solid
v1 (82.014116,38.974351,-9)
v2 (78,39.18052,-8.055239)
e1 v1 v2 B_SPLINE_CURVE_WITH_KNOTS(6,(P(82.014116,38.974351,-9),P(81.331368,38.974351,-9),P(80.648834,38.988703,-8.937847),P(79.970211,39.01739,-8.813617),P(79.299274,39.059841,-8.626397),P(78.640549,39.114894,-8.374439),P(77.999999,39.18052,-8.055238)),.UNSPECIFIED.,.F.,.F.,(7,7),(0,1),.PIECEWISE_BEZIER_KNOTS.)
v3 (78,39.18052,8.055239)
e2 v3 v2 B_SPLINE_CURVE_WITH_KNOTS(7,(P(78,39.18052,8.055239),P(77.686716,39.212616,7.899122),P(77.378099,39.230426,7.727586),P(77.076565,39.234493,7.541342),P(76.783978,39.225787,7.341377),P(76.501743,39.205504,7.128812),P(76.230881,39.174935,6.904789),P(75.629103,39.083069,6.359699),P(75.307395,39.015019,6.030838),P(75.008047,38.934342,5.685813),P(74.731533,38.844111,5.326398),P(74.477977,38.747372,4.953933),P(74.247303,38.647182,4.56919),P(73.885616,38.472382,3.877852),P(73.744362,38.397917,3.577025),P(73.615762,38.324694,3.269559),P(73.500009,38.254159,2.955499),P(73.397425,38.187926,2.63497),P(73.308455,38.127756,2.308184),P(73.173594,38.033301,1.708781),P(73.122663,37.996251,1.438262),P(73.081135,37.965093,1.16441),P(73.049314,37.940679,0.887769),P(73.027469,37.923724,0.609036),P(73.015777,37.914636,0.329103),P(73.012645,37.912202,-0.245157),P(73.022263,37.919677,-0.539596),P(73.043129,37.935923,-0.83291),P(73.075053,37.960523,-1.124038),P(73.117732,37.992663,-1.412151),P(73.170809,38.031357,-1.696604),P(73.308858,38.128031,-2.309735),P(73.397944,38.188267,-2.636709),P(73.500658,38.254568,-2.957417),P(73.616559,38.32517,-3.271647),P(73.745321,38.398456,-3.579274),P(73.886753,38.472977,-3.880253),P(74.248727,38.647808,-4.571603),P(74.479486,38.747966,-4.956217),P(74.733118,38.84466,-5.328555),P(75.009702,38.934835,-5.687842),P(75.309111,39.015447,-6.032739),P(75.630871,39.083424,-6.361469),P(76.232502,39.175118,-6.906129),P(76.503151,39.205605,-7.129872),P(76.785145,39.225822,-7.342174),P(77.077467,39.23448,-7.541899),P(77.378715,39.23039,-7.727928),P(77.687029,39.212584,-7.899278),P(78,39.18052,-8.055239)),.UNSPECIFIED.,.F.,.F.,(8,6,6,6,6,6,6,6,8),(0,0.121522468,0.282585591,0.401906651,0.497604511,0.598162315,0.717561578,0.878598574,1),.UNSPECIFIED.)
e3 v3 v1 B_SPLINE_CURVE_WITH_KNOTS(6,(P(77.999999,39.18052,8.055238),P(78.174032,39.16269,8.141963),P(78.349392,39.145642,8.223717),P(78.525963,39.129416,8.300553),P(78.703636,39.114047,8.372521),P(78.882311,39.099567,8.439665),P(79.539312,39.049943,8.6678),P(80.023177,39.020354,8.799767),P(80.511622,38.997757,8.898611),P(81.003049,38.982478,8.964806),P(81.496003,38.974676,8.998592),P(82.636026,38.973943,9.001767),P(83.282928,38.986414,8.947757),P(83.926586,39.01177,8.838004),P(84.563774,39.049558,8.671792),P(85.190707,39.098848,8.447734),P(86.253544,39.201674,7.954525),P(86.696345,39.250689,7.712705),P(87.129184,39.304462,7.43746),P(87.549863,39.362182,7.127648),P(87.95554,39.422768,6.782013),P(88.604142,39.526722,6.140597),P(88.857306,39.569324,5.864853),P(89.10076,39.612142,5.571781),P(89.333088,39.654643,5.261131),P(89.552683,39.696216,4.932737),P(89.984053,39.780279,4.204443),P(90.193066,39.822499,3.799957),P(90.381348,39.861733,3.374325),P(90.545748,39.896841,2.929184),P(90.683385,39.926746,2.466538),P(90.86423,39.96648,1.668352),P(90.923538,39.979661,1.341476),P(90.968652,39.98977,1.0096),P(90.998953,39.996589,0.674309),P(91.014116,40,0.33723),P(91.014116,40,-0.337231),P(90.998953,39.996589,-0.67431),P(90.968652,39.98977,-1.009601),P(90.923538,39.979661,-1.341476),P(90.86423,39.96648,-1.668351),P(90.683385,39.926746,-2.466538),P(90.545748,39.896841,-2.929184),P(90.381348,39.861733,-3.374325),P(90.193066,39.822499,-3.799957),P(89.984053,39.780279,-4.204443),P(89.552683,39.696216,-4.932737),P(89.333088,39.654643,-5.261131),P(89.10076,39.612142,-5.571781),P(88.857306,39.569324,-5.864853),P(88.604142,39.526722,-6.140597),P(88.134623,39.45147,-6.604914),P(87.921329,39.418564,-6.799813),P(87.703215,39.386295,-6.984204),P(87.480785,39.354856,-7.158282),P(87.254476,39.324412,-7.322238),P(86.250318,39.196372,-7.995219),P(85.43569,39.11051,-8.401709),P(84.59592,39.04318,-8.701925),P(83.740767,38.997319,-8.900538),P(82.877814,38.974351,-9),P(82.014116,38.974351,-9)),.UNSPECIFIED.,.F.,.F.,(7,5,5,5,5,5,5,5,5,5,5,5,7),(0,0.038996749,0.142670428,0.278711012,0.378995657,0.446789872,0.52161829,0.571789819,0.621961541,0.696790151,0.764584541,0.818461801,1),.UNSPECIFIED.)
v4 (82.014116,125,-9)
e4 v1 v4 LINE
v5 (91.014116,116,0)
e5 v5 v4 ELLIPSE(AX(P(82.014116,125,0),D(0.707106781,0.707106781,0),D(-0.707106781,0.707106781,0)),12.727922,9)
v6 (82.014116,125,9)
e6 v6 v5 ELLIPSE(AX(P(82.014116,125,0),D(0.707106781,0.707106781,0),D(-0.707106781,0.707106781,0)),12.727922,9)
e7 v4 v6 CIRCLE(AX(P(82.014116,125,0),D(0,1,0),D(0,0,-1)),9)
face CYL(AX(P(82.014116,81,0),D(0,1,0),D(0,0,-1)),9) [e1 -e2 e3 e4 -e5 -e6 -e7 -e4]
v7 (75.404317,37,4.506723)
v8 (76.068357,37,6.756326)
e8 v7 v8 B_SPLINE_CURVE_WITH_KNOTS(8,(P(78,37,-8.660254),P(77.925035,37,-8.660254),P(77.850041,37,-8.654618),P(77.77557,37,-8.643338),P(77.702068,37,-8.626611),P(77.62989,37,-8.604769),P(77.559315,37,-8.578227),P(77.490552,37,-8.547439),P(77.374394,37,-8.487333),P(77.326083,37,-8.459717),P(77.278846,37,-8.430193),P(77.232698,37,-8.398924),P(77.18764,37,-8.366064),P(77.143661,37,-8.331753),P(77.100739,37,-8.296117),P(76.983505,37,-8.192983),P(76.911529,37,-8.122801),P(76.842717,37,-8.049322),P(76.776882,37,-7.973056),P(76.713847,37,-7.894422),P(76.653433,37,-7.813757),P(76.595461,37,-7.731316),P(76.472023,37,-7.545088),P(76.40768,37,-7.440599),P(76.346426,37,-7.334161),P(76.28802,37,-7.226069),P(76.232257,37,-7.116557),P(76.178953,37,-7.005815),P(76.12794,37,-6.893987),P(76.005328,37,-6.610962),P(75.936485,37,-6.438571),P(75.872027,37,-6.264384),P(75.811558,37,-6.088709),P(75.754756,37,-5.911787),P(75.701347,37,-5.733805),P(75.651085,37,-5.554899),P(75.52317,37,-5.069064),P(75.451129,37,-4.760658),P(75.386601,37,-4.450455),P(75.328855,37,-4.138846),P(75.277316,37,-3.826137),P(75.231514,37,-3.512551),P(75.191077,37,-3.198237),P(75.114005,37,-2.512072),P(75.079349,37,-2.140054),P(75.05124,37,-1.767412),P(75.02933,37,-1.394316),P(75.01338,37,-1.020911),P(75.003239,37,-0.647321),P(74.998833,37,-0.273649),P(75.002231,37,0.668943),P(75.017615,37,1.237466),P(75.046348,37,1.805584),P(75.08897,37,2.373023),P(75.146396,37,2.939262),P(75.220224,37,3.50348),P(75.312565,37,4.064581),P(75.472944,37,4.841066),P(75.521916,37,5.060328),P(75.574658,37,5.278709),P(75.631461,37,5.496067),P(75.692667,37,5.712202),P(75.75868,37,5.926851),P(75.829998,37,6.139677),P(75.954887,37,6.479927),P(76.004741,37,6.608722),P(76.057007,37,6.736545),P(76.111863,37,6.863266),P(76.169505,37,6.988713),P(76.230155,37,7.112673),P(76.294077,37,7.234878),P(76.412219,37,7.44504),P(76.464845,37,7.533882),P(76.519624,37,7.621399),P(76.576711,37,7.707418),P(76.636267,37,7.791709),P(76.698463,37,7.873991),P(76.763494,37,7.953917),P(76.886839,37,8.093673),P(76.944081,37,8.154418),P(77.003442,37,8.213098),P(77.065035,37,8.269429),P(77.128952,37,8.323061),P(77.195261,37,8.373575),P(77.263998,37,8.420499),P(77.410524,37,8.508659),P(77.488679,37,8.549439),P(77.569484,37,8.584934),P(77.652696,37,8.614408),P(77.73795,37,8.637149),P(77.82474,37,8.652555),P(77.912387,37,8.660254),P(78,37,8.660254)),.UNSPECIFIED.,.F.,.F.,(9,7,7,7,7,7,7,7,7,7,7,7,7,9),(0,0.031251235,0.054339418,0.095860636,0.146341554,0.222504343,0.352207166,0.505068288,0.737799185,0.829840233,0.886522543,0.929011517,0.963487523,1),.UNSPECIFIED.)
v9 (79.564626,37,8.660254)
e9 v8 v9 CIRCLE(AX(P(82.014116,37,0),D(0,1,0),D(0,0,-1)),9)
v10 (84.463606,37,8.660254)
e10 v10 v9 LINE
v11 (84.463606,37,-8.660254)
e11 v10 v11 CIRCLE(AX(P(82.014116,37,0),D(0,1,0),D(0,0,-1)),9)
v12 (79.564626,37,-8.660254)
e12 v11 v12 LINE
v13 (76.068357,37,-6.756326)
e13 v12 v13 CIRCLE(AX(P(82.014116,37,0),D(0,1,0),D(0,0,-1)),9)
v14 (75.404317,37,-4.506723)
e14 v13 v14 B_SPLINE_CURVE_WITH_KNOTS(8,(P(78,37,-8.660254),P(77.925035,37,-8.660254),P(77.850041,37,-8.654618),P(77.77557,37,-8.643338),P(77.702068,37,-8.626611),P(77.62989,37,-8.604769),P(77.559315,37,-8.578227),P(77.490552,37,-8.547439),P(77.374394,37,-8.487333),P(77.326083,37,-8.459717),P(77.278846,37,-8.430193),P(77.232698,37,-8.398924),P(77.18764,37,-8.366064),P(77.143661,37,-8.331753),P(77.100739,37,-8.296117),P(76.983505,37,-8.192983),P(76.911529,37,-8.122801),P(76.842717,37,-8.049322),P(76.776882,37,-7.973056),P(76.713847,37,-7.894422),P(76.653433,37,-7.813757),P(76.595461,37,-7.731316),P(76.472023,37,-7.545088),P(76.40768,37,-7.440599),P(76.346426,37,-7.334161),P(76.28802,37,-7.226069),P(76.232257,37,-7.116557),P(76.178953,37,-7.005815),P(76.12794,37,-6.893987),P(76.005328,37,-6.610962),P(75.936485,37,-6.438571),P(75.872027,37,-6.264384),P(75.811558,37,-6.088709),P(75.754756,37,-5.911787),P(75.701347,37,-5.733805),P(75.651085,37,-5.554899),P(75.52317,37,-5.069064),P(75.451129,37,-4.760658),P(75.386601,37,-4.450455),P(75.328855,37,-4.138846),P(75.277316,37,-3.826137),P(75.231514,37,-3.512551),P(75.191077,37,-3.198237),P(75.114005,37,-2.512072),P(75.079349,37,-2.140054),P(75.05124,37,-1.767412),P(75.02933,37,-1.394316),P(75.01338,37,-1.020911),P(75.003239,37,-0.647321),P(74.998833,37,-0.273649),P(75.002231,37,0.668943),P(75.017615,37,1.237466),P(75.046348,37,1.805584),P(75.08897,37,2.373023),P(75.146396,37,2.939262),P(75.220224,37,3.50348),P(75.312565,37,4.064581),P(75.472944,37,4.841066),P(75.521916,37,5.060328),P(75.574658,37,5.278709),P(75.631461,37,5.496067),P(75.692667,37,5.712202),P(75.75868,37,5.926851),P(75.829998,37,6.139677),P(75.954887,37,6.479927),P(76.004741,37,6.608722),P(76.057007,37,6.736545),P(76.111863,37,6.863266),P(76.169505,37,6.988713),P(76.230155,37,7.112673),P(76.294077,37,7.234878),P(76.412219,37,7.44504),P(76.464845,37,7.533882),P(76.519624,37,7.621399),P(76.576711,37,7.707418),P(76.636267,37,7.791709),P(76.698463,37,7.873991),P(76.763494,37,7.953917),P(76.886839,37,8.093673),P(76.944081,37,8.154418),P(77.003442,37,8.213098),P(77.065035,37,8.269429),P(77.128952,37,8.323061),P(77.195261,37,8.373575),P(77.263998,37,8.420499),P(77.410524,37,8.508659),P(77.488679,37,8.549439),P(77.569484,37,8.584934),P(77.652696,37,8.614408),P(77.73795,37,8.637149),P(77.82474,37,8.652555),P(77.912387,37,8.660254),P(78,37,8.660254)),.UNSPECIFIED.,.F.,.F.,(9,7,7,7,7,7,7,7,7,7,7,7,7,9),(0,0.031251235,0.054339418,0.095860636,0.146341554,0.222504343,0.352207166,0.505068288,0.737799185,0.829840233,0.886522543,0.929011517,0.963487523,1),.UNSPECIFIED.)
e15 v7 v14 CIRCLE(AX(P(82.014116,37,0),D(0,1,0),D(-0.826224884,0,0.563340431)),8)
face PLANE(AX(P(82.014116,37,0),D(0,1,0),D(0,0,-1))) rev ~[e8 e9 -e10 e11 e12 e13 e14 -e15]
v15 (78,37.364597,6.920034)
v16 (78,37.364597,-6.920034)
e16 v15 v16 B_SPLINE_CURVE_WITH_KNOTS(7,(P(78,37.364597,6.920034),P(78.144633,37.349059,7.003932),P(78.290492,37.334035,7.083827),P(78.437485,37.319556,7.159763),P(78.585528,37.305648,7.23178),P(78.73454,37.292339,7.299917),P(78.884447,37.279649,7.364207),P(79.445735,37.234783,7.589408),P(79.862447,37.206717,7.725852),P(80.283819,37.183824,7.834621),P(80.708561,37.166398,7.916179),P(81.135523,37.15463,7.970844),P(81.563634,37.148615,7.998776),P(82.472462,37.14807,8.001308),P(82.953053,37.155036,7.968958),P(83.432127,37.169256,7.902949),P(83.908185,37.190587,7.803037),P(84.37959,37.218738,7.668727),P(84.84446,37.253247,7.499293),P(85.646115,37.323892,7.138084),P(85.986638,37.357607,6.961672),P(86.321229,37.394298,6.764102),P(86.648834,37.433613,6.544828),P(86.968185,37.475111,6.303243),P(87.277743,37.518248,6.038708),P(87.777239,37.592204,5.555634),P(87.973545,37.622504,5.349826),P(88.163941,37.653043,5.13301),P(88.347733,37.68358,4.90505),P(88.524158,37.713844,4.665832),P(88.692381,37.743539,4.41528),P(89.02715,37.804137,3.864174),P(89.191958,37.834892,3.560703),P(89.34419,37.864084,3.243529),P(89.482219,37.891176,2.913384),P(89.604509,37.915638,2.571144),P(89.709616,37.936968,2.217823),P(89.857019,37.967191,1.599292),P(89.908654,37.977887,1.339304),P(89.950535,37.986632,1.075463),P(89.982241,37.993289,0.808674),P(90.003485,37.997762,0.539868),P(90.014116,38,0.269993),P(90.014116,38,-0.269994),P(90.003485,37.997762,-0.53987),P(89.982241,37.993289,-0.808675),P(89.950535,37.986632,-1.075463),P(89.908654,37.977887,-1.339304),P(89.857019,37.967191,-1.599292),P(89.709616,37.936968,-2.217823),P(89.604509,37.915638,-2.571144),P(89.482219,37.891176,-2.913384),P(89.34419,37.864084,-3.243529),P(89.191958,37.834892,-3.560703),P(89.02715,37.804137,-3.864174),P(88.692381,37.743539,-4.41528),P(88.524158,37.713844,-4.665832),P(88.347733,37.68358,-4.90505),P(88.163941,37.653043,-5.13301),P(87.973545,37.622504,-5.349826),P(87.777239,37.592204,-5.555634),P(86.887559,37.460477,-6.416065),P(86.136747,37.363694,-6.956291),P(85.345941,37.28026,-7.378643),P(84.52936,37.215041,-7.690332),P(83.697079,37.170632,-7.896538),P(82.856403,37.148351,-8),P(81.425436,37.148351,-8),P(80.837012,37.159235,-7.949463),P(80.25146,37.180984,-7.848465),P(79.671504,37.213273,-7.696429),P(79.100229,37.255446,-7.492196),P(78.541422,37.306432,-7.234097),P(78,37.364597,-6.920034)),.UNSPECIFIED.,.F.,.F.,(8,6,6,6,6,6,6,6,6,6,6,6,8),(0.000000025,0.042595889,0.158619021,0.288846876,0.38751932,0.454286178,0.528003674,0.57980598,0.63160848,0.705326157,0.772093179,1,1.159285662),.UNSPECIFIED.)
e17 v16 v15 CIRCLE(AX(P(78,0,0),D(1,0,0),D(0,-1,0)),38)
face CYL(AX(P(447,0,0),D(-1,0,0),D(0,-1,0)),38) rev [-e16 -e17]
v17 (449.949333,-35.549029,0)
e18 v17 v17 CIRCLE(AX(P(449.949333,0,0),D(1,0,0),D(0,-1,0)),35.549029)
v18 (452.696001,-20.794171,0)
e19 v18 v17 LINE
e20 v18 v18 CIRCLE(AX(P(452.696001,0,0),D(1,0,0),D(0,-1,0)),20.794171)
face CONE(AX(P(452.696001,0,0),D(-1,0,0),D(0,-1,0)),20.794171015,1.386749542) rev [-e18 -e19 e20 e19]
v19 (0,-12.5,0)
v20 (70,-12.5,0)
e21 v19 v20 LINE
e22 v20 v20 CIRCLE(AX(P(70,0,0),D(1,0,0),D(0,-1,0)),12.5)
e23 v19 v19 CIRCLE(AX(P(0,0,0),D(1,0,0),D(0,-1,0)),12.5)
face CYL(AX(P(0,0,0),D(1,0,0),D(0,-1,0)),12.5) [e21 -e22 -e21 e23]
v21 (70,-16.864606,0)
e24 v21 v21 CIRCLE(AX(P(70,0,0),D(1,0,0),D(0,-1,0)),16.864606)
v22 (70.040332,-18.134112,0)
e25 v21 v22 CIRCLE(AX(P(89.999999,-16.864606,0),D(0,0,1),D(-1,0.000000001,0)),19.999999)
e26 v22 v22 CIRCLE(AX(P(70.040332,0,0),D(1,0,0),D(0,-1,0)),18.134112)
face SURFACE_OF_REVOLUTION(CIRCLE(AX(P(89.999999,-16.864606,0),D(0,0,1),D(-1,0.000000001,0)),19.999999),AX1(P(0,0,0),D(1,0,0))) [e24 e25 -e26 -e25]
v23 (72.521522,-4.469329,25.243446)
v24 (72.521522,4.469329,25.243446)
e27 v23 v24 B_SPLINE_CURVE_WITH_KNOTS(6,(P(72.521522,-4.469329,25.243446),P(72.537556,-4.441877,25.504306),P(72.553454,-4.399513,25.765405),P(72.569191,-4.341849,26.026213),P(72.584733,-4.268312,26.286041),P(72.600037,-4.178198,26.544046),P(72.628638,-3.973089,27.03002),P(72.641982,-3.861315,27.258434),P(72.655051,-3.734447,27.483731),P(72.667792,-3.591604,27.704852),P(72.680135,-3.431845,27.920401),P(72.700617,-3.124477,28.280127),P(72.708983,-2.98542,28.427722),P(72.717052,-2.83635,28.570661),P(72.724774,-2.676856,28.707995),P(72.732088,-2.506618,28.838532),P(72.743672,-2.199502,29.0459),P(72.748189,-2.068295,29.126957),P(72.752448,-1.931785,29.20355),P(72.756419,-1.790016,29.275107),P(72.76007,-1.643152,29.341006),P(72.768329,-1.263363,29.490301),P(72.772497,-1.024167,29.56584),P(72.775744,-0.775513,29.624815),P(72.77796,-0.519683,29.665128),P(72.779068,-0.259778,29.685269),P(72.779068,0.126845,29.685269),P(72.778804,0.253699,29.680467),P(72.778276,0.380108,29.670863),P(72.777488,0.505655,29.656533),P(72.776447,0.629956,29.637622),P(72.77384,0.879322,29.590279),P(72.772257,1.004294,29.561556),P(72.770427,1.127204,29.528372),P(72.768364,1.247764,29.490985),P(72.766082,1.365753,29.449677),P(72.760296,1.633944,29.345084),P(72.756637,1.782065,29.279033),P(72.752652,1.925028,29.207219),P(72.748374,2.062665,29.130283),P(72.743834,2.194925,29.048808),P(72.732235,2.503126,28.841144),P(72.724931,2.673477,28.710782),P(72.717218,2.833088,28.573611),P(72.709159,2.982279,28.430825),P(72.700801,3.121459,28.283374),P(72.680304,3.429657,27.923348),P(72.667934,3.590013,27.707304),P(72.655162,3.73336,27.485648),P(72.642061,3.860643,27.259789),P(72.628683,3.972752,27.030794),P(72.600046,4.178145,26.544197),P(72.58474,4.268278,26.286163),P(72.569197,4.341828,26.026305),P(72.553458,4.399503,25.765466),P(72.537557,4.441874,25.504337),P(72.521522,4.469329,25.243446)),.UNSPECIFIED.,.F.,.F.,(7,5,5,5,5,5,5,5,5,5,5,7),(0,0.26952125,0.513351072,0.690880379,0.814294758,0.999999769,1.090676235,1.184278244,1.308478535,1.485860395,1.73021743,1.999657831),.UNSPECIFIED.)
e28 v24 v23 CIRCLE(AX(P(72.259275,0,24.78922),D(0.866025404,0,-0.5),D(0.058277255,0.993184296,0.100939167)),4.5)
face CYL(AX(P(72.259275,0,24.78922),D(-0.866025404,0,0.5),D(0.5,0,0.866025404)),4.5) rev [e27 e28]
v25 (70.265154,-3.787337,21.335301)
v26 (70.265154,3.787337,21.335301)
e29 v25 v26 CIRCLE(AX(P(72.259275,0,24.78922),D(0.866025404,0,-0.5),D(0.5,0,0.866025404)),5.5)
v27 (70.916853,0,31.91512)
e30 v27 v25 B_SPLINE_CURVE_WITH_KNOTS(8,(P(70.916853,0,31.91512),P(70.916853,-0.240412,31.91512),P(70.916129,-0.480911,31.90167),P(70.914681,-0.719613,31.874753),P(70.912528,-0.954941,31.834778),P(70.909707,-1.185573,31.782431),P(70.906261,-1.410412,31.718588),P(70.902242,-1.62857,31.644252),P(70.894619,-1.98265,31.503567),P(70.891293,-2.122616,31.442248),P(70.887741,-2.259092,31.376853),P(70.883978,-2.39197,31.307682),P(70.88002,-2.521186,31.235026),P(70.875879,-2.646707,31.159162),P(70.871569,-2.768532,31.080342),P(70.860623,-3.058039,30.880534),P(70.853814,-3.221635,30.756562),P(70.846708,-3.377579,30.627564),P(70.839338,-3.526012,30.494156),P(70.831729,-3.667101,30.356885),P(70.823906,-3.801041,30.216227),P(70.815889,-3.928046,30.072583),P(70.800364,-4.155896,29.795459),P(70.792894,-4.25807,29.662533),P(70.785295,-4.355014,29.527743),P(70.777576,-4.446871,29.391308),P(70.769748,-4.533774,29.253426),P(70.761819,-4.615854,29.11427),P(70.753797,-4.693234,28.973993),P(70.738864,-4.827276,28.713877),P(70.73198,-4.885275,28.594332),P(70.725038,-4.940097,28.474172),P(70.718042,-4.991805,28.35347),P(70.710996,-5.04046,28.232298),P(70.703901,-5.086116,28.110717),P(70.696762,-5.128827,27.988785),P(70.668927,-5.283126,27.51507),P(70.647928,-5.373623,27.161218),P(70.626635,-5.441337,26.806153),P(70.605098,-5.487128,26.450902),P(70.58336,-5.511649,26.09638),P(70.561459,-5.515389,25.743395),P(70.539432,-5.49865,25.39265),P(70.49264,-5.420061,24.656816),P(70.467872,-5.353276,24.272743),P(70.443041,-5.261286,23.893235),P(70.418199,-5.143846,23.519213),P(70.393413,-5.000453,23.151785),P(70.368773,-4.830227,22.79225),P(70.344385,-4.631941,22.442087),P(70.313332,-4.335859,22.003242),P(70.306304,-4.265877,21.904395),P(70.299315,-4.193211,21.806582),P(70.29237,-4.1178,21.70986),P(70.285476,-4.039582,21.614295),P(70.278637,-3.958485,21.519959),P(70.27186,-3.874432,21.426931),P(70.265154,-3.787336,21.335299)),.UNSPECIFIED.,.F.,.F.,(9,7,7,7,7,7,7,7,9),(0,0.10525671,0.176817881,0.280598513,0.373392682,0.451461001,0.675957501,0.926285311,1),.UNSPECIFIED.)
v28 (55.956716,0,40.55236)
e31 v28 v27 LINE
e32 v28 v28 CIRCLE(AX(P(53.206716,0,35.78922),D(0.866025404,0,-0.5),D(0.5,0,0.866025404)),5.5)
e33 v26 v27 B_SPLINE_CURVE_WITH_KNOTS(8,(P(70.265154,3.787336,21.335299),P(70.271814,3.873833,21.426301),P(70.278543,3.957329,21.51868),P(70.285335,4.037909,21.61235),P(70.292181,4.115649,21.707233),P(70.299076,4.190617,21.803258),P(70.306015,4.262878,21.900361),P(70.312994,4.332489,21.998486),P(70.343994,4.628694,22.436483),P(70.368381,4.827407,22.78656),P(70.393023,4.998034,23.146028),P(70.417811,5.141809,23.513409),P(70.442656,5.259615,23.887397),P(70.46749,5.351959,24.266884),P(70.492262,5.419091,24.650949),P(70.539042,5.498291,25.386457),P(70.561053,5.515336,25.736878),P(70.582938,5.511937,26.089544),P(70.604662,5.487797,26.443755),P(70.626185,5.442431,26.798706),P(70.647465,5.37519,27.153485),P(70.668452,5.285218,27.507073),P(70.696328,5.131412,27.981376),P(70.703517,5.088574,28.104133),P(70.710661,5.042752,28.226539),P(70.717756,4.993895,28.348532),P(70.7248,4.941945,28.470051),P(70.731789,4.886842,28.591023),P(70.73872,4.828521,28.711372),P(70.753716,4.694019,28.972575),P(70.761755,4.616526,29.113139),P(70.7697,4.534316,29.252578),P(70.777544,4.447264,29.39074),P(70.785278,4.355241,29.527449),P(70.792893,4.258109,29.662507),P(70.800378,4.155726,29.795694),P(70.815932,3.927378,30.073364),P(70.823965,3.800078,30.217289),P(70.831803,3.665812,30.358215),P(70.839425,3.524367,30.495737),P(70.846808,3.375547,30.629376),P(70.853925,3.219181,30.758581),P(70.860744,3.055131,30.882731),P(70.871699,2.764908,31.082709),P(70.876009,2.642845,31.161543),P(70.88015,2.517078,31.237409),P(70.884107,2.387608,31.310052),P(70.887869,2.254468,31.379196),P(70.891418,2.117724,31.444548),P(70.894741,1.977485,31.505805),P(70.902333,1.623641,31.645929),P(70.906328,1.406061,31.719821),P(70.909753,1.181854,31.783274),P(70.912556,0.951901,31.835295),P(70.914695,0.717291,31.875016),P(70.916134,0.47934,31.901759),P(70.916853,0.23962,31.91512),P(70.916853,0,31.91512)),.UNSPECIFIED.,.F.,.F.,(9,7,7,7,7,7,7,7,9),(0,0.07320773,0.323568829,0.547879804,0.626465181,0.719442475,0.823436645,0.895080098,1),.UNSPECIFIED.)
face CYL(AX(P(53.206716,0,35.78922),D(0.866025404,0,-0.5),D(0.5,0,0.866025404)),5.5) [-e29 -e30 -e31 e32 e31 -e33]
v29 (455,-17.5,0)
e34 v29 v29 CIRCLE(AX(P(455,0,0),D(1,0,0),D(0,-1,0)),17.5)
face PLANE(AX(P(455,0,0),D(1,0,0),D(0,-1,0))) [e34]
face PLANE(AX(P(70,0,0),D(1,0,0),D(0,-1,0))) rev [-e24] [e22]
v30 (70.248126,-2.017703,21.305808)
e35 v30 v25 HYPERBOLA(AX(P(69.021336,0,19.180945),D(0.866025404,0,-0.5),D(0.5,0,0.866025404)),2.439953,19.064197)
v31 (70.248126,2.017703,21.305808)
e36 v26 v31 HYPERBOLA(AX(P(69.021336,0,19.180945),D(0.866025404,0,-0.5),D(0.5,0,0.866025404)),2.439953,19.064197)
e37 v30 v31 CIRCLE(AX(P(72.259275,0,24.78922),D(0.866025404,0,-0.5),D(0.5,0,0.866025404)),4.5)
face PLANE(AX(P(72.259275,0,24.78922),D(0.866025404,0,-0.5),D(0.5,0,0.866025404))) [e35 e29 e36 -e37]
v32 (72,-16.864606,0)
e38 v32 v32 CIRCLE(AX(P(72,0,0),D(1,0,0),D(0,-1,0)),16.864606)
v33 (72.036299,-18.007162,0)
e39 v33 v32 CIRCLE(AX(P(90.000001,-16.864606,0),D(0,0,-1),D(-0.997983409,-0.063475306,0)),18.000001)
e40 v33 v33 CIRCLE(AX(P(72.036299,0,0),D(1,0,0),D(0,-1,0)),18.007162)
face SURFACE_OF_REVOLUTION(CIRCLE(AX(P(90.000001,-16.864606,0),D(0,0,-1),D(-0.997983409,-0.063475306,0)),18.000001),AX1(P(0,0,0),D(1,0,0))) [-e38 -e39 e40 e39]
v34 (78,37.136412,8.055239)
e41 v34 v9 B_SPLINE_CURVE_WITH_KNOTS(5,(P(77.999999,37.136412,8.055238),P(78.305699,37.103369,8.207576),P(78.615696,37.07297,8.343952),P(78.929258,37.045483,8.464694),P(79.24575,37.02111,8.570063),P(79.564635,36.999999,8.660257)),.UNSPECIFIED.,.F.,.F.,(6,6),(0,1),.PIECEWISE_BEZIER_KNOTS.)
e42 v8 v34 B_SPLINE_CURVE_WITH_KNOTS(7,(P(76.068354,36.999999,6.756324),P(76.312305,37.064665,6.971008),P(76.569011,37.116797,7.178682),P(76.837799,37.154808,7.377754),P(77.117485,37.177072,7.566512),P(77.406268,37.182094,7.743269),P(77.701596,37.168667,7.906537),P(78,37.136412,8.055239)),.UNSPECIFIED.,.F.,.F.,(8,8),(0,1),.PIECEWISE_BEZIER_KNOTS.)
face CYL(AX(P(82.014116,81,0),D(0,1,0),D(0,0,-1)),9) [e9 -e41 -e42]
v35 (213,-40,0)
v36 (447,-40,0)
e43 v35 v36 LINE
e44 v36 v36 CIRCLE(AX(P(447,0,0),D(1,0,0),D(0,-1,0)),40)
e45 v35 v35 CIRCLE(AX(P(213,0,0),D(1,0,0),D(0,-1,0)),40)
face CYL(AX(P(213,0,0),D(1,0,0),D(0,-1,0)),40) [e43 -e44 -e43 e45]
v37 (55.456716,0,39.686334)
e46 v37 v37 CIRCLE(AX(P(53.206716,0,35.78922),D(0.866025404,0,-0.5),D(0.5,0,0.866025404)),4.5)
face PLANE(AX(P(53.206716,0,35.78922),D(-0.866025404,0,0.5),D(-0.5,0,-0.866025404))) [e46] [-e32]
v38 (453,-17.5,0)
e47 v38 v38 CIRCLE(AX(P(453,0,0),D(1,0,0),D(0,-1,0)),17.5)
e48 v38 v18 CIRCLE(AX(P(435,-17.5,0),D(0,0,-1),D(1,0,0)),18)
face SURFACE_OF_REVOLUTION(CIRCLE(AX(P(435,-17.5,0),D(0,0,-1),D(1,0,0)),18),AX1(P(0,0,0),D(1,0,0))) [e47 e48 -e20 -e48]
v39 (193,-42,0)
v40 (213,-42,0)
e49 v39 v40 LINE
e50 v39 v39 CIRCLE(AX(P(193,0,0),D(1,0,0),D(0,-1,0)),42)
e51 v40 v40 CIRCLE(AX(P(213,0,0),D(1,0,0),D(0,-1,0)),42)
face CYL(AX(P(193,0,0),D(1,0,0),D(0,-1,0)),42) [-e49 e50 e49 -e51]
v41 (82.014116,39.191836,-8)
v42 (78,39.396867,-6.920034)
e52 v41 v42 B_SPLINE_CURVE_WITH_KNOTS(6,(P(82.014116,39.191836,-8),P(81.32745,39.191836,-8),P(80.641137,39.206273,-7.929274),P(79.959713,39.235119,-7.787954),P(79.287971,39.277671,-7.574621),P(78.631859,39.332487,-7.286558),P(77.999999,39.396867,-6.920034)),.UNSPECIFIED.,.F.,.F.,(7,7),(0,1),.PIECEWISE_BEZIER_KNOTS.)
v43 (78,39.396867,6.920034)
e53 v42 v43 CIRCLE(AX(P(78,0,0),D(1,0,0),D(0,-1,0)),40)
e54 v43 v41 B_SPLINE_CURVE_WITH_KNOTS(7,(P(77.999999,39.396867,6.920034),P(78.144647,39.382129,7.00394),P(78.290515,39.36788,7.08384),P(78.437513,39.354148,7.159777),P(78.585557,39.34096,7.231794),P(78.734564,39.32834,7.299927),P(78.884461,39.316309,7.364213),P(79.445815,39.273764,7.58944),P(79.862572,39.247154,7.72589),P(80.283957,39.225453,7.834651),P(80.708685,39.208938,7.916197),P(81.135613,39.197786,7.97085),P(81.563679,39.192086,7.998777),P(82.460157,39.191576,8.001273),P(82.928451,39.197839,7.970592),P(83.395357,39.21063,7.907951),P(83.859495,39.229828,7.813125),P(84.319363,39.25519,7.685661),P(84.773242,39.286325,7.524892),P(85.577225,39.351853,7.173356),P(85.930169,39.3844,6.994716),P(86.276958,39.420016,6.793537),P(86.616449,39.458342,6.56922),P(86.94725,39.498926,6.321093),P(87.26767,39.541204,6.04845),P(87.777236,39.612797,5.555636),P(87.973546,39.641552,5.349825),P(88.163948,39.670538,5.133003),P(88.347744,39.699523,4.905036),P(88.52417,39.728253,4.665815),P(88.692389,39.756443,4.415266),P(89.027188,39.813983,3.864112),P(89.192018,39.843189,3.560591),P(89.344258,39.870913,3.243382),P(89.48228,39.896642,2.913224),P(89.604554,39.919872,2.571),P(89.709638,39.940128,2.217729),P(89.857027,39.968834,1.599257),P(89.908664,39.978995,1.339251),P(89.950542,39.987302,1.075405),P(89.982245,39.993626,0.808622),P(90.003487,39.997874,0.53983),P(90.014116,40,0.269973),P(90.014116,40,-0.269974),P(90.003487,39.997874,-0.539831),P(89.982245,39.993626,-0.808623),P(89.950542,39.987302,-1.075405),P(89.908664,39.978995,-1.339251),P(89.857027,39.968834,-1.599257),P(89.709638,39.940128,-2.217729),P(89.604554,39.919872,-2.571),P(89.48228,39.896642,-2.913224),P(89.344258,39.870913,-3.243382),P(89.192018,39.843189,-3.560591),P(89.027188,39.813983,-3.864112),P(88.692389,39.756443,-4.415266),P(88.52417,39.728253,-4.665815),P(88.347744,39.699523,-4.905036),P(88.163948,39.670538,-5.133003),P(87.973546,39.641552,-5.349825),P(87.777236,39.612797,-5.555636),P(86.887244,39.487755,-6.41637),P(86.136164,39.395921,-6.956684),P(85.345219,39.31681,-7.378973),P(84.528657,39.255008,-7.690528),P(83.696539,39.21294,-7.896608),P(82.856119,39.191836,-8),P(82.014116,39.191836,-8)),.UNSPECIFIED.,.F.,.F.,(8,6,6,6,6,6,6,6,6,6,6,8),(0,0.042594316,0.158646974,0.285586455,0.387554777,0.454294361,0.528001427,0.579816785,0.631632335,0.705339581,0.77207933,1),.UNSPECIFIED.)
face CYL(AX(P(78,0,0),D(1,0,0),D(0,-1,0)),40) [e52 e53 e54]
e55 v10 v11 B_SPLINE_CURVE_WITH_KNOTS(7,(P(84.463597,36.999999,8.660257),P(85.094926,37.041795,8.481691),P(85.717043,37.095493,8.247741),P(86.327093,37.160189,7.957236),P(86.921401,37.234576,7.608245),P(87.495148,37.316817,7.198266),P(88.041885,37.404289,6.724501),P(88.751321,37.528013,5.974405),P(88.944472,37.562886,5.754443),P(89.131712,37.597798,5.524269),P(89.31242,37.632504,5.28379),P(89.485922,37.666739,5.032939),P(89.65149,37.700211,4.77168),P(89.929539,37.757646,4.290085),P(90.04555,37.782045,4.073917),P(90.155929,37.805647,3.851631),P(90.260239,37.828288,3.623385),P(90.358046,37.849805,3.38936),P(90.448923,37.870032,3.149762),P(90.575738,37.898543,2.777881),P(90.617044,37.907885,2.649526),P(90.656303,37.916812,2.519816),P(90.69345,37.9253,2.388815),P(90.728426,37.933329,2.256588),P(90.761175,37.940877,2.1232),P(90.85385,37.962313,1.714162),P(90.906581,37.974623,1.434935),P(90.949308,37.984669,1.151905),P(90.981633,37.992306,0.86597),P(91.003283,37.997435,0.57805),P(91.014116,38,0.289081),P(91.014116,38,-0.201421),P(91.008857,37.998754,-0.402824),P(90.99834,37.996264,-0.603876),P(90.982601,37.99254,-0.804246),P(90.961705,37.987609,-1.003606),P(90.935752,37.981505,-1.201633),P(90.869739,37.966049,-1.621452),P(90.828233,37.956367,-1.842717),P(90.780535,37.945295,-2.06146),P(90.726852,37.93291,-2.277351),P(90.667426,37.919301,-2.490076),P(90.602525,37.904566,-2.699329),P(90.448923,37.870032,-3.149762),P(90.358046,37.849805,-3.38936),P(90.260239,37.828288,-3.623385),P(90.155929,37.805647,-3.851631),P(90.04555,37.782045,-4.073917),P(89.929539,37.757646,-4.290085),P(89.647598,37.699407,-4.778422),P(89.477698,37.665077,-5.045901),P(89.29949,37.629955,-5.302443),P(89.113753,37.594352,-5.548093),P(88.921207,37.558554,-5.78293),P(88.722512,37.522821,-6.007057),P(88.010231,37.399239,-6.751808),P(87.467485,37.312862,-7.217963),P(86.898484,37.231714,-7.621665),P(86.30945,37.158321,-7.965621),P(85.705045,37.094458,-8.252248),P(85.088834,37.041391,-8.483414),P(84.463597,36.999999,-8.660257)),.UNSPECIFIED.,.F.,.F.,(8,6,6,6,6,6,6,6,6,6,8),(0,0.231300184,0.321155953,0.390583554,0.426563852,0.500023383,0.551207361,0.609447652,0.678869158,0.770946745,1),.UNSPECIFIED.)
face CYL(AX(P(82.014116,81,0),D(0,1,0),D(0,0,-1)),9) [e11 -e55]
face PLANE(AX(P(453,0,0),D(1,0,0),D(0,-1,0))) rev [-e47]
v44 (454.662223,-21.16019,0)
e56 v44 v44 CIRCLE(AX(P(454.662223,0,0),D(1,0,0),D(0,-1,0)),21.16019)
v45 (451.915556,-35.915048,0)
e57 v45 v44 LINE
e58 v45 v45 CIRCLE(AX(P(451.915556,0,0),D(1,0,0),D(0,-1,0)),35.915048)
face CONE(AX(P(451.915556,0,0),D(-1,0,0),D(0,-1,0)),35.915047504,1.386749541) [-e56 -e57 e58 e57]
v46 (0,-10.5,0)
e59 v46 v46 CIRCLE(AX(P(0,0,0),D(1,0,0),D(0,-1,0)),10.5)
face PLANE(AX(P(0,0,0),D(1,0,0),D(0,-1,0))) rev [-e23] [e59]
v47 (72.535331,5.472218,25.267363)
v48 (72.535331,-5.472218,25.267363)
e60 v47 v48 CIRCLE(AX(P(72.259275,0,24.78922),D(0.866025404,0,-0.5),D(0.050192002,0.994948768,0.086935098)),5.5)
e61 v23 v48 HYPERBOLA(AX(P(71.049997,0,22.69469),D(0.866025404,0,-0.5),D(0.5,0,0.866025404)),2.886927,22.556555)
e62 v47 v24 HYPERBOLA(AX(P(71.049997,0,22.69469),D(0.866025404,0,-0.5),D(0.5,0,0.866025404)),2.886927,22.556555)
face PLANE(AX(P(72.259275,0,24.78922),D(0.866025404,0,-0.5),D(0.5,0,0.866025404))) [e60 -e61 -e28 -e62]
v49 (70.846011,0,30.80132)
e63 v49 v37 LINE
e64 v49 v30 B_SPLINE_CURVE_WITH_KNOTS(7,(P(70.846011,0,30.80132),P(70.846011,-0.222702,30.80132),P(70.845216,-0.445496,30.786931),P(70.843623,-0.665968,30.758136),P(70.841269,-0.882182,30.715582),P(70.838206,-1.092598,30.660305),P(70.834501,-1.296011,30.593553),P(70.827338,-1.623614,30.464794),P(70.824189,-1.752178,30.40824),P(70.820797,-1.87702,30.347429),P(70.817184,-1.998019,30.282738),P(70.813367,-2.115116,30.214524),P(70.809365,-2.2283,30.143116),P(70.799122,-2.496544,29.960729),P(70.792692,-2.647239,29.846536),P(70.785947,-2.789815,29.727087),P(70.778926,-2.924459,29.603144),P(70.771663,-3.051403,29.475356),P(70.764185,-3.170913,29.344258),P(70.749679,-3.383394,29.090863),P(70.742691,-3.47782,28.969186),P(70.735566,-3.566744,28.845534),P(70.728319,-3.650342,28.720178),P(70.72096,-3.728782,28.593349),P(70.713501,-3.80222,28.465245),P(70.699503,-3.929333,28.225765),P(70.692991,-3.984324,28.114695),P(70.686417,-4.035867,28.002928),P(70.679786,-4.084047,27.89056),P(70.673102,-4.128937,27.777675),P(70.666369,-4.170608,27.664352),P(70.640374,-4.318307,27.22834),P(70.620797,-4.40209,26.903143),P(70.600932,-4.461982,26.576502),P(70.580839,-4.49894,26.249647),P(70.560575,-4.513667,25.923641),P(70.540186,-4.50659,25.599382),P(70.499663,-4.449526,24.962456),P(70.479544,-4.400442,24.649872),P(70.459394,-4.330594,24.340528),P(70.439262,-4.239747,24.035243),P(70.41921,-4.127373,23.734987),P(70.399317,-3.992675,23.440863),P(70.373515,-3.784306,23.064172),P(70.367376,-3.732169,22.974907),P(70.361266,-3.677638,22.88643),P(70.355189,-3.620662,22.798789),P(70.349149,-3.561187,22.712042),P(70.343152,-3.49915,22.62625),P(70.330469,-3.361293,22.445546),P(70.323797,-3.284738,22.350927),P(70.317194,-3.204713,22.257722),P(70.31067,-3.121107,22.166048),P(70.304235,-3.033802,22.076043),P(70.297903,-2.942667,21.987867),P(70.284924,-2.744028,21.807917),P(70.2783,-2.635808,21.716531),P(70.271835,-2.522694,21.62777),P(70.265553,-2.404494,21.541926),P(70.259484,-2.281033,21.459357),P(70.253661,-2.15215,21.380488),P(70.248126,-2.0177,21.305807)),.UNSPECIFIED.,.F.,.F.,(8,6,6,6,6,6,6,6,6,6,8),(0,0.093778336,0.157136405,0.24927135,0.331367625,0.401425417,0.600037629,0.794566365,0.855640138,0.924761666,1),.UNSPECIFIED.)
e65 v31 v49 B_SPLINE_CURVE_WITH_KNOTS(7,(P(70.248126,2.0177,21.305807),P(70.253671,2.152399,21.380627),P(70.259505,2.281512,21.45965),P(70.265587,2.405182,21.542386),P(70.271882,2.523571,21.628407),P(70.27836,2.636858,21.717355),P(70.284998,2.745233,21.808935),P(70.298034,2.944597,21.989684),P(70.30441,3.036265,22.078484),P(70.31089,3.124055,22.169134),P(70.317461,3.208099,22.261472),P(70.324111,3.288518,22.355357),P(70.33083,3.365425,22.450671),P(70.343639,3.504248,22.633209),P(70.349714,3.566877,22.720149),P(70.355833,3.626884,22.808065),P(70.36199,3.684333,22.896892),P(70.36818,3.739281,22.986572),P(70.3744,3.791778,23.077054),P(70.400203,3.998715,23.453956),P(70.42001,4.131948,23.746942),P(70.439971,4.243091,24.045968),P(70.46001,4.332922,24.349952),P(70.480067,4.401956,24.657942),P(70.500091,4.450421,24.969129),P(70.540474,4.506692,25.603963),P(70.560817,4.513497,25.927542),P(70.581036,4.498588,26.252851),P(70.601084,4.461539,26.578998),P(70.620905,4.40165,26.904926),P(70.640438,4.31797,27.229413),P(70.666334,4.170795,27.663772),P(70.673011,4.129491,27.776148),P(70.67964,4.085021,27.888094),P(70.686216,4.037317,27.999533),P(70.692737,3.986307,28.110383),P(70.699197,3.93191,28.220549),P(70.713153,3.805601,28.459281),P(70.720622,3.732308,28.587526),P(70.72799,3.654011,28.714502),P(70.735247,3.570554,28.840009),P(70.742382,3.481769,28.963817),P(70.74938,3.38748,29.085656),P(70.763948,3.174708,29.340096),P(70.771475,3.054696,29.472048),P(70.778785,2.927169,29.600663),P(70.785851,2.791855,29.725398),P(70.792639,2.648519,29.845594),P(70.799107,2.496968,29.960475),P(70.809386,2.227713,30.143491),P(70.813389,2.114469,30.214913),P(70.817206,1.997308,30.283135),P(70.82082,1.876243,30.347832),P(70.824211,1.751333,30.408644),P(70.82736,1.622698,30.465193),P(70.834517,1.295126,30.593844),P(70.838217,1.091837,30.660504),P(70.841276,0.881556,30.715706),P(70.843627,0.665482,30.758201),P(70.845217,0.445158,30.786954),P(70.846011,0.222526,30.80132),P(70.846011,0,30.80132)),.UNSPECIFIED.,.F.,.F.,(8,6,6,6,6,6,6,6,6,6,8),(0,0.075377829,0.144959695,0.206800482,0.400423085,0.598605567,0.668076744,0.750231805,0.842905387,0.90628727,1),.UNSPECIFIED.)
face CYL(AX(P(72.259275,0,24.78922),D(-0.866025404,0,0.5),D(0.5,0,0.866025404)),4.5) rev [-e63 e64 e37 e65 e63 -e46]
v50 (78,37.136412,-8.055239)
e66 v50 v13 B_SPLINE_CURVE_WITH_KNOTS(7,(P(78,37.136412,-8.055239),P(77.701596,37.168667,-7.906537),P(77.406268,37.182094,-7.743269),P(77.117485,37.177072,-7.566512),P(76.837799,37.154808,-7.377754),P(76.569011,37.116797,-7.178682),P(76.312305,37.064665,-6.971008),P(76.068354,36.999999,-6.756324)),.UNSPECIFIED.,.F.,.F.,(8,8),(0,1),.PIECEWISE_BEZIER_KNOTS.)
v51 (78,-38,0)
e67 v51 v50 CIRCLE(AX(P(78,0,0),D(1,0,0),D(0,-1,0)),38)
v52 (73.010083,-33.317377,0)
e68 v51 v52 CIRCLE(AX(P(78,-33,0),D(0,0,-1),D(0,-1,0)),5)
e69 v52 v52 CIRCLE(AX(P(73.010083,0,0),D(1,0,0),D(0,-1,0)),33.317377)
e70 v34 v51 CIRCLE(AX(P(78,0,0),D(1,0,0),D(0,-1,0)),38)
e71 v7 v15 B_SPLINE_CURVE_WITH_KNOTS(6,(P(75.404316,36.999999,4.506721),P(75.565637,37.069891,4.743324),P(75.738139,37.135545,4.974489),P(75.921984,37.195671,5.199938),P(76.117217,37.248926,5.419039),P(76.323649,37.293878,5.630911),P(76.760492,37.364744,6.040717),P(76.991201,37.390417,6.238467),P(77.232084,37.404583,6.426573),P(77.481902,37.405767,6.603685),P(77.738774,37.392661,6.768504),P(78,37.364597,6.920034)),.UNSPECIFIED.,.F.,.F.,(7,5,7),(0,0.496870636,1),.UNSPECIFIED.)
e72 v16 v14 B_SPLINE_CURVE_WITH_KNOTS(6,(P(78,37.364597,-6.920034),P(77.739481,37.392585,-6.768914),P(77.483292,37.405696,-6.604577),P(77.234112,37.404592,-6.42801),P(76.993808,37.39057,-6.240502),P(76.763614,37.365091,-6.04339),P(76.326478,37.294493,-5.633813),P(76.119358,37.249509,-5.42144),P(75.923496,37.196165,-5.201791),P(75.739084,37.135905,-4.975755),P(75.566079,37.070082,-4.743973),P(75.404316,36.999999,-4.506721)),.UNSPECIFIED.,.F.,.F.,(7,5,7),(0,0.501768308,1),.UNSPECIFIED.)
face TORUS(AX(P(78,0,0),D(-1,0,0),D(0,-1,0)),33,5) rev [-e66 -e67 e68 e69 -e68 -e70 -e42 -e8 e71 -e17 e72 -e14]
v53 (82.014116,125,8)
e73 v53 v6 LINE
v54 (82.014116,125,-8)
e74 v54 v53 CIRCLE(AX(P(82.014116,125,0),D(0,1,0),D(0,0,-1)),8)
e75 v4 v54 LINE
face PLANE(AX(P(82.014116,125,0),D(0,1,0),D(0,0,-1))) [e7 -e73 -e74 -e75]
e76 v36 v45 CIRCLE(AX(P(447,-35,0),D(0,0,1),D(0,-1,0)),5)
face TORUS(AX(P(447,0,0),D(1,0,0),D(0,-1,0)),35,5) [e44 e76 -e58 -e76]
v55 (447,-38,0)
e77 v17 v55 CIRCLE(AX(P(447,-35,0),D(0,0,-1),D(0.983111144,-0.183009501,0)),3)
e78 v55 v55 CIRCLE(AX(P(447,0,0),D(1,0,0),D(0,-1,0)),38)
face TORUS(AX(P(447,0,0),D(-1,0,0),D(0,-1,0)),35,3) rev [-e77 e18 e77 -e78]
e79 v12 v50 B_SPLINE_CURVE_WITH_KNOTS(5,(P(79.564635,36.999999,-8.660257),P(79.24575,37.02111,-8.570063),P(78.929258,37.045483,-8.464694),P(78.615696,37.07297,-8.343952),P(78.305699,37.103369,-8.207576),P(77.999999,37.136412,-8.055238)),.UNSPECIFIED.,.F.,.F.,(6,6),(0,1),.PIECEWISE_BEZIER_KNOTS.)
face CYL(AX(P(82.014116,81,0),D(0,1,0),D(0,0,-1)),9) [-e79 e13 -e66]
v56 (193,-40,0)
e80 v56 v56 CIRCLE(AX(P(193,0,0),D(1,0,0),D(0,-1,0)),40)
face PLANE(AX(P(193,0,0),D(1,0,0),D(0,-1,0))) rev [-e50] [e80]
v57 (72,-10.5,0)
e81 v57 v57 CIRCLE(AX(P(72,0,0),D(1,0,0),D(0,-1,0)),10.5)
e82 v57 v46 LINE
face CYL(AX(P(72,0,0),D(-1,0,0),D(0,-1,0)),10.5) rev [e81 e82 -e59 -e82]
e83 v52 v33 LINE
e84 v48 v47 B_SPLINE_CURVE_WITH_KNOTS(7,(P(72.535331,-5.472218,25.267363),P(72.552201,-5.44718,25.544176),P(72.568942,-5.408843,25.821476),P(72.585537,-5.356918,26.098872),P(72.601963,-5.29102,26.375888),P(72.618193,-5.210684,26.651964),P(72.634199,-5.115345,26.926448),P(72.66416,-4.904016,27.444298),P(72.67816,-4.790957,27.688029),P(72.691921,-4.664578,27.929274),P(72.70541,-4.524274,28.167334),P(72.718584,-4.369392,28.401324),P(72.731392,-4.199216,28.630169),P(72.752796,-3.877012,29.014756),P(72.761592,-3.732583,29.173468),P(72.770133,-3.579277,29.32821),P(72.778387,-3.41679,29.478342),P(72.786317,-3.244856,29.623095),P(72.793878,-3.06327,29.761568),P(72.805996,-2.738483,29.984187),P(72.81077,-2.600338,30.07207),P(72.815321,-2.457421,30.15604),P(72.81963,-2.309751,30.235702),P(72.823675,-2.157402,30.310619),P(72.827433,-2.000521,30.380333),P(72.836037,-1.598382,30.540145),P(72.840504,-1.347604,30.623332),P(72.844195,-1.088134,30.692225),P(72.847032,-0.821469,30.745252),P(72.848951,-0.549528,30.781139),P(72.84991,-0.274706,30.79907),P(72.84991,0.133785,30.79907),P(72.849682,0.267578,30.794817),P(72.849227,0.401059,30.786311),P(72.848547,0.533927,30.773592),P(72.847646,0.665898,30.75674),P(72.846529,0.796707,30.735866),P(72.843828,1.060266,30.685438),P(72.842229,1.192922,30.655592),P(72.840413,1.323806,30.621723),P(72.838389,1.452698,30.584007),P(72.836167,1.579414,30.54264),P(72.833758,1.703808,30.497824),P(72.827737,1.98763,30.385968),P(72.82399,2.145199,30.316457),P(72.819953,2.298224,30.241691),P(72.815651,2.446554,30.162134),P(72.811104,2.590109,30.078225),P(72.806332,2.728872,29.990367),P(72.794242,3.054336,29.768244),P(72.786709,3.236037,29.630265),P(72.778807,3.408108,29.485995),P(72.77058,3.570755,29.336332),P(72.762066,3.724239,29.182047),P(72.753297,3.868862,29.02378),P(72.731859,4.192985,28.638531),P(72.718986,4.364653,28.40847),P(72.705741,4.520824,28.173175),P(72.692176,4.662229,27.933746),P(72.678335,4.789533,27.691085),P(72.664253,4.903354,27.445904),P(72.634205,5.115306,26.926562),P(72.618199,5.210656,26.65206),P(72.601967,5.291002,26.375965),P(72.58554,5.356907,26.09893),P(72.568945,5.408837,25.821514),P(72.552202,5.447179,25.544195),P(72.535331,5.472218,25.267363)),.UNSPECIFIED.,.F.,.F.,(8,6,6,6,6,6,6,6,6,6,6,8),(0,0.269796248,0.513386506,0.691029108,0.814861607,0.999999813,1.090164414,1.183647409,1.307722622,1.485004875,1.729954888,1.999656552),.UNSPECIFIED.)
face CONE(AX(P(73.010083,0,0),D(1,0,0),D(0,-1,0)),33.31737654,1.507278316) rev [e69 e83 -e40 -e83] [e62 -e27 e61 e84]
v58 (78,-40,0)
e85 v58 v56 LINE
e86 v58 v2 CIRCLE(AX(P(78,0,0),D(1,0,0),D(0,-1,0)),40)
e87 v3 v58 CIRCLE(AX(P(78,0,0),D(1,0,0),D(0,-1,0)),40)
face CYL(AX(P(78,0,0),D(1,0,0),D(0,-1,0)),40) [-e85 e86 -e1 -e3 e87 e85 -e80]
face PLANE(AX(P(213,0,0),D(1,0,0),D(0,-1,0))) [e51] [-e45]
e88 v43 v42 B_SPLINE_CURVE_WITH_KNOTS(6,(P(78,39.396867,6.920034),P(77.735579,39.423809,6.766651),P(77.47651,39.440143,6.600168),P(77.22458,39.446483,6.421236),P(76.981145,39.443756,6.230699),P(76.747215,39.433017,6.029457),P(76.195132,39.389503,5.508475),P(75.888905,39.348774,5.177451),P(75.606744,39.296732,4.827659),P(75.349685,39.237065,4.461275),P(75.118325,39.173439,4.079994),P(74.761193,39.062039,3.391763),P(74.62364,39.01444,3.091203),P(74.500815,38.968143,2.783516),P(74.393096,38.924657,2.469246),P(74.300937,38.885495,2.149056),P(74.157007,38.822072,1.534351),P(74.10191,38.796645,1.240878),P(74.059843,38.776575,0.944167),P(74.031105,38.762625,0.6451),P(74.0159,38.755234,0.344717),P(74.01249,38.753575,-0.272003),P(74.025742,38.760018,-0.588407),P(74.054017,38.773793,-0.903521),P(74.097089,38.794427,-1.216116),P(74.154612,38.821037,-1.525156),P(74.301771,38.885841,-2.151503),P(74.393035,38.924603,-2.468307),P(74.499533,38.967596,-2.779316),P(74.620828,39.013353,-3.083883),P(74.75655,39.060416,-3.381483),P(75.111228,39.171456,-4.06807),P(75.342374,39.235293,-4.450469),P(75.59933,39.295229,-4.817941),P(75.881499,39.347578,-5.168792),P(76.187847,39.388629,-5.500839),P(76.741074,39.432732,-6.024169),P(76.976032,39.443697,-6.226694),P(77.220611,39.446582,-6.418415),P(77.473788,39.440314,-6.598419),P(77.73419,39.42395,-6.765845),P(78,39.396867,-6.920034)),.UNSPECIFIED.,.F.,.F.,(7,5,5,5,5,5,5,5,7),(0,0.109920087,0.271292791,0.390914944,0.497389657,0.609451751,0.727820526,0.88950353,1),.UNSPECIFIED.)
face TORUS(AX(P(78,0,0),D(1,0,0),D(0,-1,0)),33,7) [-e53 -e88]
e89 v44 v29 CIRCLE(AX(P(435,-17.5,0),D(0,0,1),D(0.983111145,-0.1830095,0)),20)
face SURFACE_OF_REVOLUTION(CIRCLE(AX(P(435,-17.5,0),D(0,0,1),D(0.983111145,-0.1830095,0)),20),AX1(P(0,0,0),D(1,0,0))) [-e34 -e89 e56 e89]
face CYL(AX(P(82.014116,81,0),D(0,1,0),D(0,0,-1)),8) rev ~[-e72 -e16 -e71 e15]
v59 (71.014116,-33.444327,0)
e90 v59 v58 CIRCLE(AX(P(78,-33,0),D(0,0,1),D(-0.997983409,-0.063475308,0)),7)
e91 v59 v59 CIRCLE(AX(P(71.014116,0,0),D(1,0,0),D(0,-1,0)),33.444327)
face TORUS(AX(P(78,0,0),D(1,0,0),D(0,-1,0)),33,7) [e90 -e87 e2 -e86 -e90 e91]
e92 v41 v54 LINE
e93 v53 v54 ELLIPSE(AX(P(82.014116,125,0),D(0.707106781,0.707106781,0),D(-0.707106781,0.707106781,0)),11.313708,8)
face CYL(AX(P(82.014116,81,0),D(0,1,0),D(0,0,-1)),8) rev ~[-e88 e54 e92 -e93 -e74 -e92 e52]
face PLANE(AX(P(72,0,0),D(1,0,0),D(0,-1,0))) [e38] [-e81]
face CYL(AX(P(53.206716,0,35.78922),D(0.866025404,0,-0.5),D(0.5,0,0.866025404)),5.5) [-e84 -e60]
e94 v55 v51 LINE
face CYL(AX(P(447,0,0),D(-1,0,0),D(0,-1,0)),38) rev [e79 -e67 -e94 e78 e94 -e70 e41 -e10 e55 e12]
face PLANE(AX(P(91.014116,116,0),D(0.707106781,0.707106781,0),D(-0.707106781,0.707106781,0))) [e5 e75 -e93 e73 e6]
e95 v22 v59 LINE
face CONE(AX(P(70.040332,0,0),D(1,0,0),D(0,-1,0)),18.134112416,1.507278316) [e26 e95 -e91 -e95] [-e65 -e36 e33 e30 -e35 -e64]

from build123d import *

# Parameters (mm, degrees)
SKETCH2_W          = 1
SKETCH2_H          = 88
CUT_EXTRUDE1_DEPTH = 10


with BuildPart() as part:
    # Sketch1 → Revolve1 (revolve)
    with BuildSketch(Plane.XY, mode=Mode.PRIVATE) as revolve1_sk:
        with BuildLine():
            Line((0, 12.5), (70, 12.5))
            Line((70, 12.5), (70, 16.864606255))
            ThreePointArc((70, 16.864606255), (70.010085496, 17.499679587), (70.040331814, 18.134112416))
            Line((70.040331814, 18.134112416), (71.014116135, 33.444327156))
            ThreePointArc((71.014116135, 33.444327156), (73.209921196, 38.104424066), (78, 40))
            Line((78, 40), (193, 40))
            Line((193, 40), (193, 42))
            Line((193, 42), (213, 42))
            Line((213, 42), (213, 40))
            Line((213, 40), (447, 40))
            ThreePointArc((447, 40), (450.195681655, 38.845467301), (451.915555723, 35.915047504))
            Line((451.915555723, 35.915047504), (454.662222892, 21.160190017))
            ThreePointArc((454.662222892, 21.160190017), (454.915376695, 19.337871346), (455, 17.5))
            Line((455, 17.5), (455, 0))
            Line((455, 0), (453, 0))
            Line((453, 0), (453, 17.5))
            ThreePointArc((453, 17.5), (452.923839026, 19.154084211), (452.696000602, 20.794171015))
            Line((452.696000602, 20.794171015), (449.949333434, 35.549028503))
            ThreePointArc((449.949333434, 35.549028503), (448.917408993, 37.30728038), (447, 38))
            Line((447, 38), (78, 38))
            ThreePointArc((78, 38), (74.57851514, 36.64601719), (73.010082953, 33.31737654))
            Line((73.010082953, 33.31737654), (72.036298632, 18.0071618))
            ThreePointArc((72.036298632, 18.0071618), (72.009076947, 17.436172254), (72, 16.864606255))
            Line((72, 16.864606255), (72, 10.5))
            Line((72, 10.5), (0, 10.5))
            Line((0, 10.5), (0, 12.5))
        make_face()
    revolve(revolve1_sk.sketch.rotate(Axis((0, 0, 0), (1, 0, 0)), 180), axis=Axis((0, 0, 0), (1, 0, 0)))

    # Sketch2 → Revolve2 (revolve)
    with BuildSketch(Plane.XY, mode=Mode.PRIVATE) as revolve2_sk:
        with Locations((73.514116135, 81)):
            Rectangle(SKETCH2_W, SKETCH2_H)
    revolve(revolve2_sk.sketch.rotate(Axis((82.014116135, 37, 0), (0, 1, 0)), 270), axis=Axis((82.014116135, 37, 0), (0, 1, 0)))

    # Sketch3 → Cut-Extrude1 (cut, symmetric)
    with BuildSketch(Plane.XY):
        Polygon((82.014116135, 125), (91.014116135, 125), (91.014116135, 116), align=None)
    extrude(amount=CUT_EXTRUDE1_DEPTH, both=True, mode=Mode.SUBTRACT)

    # Sketch4 → Revolve3 (revolve)
    with BuildSketch(Plane(origin=(0, 0, 0), x_dir=(1, 0, 0), z_dir=(0, 1, 0))):
        Polygon((74.509274782, -28.686334103), (55.456715899, -39.686334103), (55.956715899, -40.552359507), (75.009274782, -29.552359507), align=None)
    revolve(axis=Axis((53.206715899, 0, 35.789219786), (0.8660254037844379, 0, -0.5000000000000013)))


solid = part.part
